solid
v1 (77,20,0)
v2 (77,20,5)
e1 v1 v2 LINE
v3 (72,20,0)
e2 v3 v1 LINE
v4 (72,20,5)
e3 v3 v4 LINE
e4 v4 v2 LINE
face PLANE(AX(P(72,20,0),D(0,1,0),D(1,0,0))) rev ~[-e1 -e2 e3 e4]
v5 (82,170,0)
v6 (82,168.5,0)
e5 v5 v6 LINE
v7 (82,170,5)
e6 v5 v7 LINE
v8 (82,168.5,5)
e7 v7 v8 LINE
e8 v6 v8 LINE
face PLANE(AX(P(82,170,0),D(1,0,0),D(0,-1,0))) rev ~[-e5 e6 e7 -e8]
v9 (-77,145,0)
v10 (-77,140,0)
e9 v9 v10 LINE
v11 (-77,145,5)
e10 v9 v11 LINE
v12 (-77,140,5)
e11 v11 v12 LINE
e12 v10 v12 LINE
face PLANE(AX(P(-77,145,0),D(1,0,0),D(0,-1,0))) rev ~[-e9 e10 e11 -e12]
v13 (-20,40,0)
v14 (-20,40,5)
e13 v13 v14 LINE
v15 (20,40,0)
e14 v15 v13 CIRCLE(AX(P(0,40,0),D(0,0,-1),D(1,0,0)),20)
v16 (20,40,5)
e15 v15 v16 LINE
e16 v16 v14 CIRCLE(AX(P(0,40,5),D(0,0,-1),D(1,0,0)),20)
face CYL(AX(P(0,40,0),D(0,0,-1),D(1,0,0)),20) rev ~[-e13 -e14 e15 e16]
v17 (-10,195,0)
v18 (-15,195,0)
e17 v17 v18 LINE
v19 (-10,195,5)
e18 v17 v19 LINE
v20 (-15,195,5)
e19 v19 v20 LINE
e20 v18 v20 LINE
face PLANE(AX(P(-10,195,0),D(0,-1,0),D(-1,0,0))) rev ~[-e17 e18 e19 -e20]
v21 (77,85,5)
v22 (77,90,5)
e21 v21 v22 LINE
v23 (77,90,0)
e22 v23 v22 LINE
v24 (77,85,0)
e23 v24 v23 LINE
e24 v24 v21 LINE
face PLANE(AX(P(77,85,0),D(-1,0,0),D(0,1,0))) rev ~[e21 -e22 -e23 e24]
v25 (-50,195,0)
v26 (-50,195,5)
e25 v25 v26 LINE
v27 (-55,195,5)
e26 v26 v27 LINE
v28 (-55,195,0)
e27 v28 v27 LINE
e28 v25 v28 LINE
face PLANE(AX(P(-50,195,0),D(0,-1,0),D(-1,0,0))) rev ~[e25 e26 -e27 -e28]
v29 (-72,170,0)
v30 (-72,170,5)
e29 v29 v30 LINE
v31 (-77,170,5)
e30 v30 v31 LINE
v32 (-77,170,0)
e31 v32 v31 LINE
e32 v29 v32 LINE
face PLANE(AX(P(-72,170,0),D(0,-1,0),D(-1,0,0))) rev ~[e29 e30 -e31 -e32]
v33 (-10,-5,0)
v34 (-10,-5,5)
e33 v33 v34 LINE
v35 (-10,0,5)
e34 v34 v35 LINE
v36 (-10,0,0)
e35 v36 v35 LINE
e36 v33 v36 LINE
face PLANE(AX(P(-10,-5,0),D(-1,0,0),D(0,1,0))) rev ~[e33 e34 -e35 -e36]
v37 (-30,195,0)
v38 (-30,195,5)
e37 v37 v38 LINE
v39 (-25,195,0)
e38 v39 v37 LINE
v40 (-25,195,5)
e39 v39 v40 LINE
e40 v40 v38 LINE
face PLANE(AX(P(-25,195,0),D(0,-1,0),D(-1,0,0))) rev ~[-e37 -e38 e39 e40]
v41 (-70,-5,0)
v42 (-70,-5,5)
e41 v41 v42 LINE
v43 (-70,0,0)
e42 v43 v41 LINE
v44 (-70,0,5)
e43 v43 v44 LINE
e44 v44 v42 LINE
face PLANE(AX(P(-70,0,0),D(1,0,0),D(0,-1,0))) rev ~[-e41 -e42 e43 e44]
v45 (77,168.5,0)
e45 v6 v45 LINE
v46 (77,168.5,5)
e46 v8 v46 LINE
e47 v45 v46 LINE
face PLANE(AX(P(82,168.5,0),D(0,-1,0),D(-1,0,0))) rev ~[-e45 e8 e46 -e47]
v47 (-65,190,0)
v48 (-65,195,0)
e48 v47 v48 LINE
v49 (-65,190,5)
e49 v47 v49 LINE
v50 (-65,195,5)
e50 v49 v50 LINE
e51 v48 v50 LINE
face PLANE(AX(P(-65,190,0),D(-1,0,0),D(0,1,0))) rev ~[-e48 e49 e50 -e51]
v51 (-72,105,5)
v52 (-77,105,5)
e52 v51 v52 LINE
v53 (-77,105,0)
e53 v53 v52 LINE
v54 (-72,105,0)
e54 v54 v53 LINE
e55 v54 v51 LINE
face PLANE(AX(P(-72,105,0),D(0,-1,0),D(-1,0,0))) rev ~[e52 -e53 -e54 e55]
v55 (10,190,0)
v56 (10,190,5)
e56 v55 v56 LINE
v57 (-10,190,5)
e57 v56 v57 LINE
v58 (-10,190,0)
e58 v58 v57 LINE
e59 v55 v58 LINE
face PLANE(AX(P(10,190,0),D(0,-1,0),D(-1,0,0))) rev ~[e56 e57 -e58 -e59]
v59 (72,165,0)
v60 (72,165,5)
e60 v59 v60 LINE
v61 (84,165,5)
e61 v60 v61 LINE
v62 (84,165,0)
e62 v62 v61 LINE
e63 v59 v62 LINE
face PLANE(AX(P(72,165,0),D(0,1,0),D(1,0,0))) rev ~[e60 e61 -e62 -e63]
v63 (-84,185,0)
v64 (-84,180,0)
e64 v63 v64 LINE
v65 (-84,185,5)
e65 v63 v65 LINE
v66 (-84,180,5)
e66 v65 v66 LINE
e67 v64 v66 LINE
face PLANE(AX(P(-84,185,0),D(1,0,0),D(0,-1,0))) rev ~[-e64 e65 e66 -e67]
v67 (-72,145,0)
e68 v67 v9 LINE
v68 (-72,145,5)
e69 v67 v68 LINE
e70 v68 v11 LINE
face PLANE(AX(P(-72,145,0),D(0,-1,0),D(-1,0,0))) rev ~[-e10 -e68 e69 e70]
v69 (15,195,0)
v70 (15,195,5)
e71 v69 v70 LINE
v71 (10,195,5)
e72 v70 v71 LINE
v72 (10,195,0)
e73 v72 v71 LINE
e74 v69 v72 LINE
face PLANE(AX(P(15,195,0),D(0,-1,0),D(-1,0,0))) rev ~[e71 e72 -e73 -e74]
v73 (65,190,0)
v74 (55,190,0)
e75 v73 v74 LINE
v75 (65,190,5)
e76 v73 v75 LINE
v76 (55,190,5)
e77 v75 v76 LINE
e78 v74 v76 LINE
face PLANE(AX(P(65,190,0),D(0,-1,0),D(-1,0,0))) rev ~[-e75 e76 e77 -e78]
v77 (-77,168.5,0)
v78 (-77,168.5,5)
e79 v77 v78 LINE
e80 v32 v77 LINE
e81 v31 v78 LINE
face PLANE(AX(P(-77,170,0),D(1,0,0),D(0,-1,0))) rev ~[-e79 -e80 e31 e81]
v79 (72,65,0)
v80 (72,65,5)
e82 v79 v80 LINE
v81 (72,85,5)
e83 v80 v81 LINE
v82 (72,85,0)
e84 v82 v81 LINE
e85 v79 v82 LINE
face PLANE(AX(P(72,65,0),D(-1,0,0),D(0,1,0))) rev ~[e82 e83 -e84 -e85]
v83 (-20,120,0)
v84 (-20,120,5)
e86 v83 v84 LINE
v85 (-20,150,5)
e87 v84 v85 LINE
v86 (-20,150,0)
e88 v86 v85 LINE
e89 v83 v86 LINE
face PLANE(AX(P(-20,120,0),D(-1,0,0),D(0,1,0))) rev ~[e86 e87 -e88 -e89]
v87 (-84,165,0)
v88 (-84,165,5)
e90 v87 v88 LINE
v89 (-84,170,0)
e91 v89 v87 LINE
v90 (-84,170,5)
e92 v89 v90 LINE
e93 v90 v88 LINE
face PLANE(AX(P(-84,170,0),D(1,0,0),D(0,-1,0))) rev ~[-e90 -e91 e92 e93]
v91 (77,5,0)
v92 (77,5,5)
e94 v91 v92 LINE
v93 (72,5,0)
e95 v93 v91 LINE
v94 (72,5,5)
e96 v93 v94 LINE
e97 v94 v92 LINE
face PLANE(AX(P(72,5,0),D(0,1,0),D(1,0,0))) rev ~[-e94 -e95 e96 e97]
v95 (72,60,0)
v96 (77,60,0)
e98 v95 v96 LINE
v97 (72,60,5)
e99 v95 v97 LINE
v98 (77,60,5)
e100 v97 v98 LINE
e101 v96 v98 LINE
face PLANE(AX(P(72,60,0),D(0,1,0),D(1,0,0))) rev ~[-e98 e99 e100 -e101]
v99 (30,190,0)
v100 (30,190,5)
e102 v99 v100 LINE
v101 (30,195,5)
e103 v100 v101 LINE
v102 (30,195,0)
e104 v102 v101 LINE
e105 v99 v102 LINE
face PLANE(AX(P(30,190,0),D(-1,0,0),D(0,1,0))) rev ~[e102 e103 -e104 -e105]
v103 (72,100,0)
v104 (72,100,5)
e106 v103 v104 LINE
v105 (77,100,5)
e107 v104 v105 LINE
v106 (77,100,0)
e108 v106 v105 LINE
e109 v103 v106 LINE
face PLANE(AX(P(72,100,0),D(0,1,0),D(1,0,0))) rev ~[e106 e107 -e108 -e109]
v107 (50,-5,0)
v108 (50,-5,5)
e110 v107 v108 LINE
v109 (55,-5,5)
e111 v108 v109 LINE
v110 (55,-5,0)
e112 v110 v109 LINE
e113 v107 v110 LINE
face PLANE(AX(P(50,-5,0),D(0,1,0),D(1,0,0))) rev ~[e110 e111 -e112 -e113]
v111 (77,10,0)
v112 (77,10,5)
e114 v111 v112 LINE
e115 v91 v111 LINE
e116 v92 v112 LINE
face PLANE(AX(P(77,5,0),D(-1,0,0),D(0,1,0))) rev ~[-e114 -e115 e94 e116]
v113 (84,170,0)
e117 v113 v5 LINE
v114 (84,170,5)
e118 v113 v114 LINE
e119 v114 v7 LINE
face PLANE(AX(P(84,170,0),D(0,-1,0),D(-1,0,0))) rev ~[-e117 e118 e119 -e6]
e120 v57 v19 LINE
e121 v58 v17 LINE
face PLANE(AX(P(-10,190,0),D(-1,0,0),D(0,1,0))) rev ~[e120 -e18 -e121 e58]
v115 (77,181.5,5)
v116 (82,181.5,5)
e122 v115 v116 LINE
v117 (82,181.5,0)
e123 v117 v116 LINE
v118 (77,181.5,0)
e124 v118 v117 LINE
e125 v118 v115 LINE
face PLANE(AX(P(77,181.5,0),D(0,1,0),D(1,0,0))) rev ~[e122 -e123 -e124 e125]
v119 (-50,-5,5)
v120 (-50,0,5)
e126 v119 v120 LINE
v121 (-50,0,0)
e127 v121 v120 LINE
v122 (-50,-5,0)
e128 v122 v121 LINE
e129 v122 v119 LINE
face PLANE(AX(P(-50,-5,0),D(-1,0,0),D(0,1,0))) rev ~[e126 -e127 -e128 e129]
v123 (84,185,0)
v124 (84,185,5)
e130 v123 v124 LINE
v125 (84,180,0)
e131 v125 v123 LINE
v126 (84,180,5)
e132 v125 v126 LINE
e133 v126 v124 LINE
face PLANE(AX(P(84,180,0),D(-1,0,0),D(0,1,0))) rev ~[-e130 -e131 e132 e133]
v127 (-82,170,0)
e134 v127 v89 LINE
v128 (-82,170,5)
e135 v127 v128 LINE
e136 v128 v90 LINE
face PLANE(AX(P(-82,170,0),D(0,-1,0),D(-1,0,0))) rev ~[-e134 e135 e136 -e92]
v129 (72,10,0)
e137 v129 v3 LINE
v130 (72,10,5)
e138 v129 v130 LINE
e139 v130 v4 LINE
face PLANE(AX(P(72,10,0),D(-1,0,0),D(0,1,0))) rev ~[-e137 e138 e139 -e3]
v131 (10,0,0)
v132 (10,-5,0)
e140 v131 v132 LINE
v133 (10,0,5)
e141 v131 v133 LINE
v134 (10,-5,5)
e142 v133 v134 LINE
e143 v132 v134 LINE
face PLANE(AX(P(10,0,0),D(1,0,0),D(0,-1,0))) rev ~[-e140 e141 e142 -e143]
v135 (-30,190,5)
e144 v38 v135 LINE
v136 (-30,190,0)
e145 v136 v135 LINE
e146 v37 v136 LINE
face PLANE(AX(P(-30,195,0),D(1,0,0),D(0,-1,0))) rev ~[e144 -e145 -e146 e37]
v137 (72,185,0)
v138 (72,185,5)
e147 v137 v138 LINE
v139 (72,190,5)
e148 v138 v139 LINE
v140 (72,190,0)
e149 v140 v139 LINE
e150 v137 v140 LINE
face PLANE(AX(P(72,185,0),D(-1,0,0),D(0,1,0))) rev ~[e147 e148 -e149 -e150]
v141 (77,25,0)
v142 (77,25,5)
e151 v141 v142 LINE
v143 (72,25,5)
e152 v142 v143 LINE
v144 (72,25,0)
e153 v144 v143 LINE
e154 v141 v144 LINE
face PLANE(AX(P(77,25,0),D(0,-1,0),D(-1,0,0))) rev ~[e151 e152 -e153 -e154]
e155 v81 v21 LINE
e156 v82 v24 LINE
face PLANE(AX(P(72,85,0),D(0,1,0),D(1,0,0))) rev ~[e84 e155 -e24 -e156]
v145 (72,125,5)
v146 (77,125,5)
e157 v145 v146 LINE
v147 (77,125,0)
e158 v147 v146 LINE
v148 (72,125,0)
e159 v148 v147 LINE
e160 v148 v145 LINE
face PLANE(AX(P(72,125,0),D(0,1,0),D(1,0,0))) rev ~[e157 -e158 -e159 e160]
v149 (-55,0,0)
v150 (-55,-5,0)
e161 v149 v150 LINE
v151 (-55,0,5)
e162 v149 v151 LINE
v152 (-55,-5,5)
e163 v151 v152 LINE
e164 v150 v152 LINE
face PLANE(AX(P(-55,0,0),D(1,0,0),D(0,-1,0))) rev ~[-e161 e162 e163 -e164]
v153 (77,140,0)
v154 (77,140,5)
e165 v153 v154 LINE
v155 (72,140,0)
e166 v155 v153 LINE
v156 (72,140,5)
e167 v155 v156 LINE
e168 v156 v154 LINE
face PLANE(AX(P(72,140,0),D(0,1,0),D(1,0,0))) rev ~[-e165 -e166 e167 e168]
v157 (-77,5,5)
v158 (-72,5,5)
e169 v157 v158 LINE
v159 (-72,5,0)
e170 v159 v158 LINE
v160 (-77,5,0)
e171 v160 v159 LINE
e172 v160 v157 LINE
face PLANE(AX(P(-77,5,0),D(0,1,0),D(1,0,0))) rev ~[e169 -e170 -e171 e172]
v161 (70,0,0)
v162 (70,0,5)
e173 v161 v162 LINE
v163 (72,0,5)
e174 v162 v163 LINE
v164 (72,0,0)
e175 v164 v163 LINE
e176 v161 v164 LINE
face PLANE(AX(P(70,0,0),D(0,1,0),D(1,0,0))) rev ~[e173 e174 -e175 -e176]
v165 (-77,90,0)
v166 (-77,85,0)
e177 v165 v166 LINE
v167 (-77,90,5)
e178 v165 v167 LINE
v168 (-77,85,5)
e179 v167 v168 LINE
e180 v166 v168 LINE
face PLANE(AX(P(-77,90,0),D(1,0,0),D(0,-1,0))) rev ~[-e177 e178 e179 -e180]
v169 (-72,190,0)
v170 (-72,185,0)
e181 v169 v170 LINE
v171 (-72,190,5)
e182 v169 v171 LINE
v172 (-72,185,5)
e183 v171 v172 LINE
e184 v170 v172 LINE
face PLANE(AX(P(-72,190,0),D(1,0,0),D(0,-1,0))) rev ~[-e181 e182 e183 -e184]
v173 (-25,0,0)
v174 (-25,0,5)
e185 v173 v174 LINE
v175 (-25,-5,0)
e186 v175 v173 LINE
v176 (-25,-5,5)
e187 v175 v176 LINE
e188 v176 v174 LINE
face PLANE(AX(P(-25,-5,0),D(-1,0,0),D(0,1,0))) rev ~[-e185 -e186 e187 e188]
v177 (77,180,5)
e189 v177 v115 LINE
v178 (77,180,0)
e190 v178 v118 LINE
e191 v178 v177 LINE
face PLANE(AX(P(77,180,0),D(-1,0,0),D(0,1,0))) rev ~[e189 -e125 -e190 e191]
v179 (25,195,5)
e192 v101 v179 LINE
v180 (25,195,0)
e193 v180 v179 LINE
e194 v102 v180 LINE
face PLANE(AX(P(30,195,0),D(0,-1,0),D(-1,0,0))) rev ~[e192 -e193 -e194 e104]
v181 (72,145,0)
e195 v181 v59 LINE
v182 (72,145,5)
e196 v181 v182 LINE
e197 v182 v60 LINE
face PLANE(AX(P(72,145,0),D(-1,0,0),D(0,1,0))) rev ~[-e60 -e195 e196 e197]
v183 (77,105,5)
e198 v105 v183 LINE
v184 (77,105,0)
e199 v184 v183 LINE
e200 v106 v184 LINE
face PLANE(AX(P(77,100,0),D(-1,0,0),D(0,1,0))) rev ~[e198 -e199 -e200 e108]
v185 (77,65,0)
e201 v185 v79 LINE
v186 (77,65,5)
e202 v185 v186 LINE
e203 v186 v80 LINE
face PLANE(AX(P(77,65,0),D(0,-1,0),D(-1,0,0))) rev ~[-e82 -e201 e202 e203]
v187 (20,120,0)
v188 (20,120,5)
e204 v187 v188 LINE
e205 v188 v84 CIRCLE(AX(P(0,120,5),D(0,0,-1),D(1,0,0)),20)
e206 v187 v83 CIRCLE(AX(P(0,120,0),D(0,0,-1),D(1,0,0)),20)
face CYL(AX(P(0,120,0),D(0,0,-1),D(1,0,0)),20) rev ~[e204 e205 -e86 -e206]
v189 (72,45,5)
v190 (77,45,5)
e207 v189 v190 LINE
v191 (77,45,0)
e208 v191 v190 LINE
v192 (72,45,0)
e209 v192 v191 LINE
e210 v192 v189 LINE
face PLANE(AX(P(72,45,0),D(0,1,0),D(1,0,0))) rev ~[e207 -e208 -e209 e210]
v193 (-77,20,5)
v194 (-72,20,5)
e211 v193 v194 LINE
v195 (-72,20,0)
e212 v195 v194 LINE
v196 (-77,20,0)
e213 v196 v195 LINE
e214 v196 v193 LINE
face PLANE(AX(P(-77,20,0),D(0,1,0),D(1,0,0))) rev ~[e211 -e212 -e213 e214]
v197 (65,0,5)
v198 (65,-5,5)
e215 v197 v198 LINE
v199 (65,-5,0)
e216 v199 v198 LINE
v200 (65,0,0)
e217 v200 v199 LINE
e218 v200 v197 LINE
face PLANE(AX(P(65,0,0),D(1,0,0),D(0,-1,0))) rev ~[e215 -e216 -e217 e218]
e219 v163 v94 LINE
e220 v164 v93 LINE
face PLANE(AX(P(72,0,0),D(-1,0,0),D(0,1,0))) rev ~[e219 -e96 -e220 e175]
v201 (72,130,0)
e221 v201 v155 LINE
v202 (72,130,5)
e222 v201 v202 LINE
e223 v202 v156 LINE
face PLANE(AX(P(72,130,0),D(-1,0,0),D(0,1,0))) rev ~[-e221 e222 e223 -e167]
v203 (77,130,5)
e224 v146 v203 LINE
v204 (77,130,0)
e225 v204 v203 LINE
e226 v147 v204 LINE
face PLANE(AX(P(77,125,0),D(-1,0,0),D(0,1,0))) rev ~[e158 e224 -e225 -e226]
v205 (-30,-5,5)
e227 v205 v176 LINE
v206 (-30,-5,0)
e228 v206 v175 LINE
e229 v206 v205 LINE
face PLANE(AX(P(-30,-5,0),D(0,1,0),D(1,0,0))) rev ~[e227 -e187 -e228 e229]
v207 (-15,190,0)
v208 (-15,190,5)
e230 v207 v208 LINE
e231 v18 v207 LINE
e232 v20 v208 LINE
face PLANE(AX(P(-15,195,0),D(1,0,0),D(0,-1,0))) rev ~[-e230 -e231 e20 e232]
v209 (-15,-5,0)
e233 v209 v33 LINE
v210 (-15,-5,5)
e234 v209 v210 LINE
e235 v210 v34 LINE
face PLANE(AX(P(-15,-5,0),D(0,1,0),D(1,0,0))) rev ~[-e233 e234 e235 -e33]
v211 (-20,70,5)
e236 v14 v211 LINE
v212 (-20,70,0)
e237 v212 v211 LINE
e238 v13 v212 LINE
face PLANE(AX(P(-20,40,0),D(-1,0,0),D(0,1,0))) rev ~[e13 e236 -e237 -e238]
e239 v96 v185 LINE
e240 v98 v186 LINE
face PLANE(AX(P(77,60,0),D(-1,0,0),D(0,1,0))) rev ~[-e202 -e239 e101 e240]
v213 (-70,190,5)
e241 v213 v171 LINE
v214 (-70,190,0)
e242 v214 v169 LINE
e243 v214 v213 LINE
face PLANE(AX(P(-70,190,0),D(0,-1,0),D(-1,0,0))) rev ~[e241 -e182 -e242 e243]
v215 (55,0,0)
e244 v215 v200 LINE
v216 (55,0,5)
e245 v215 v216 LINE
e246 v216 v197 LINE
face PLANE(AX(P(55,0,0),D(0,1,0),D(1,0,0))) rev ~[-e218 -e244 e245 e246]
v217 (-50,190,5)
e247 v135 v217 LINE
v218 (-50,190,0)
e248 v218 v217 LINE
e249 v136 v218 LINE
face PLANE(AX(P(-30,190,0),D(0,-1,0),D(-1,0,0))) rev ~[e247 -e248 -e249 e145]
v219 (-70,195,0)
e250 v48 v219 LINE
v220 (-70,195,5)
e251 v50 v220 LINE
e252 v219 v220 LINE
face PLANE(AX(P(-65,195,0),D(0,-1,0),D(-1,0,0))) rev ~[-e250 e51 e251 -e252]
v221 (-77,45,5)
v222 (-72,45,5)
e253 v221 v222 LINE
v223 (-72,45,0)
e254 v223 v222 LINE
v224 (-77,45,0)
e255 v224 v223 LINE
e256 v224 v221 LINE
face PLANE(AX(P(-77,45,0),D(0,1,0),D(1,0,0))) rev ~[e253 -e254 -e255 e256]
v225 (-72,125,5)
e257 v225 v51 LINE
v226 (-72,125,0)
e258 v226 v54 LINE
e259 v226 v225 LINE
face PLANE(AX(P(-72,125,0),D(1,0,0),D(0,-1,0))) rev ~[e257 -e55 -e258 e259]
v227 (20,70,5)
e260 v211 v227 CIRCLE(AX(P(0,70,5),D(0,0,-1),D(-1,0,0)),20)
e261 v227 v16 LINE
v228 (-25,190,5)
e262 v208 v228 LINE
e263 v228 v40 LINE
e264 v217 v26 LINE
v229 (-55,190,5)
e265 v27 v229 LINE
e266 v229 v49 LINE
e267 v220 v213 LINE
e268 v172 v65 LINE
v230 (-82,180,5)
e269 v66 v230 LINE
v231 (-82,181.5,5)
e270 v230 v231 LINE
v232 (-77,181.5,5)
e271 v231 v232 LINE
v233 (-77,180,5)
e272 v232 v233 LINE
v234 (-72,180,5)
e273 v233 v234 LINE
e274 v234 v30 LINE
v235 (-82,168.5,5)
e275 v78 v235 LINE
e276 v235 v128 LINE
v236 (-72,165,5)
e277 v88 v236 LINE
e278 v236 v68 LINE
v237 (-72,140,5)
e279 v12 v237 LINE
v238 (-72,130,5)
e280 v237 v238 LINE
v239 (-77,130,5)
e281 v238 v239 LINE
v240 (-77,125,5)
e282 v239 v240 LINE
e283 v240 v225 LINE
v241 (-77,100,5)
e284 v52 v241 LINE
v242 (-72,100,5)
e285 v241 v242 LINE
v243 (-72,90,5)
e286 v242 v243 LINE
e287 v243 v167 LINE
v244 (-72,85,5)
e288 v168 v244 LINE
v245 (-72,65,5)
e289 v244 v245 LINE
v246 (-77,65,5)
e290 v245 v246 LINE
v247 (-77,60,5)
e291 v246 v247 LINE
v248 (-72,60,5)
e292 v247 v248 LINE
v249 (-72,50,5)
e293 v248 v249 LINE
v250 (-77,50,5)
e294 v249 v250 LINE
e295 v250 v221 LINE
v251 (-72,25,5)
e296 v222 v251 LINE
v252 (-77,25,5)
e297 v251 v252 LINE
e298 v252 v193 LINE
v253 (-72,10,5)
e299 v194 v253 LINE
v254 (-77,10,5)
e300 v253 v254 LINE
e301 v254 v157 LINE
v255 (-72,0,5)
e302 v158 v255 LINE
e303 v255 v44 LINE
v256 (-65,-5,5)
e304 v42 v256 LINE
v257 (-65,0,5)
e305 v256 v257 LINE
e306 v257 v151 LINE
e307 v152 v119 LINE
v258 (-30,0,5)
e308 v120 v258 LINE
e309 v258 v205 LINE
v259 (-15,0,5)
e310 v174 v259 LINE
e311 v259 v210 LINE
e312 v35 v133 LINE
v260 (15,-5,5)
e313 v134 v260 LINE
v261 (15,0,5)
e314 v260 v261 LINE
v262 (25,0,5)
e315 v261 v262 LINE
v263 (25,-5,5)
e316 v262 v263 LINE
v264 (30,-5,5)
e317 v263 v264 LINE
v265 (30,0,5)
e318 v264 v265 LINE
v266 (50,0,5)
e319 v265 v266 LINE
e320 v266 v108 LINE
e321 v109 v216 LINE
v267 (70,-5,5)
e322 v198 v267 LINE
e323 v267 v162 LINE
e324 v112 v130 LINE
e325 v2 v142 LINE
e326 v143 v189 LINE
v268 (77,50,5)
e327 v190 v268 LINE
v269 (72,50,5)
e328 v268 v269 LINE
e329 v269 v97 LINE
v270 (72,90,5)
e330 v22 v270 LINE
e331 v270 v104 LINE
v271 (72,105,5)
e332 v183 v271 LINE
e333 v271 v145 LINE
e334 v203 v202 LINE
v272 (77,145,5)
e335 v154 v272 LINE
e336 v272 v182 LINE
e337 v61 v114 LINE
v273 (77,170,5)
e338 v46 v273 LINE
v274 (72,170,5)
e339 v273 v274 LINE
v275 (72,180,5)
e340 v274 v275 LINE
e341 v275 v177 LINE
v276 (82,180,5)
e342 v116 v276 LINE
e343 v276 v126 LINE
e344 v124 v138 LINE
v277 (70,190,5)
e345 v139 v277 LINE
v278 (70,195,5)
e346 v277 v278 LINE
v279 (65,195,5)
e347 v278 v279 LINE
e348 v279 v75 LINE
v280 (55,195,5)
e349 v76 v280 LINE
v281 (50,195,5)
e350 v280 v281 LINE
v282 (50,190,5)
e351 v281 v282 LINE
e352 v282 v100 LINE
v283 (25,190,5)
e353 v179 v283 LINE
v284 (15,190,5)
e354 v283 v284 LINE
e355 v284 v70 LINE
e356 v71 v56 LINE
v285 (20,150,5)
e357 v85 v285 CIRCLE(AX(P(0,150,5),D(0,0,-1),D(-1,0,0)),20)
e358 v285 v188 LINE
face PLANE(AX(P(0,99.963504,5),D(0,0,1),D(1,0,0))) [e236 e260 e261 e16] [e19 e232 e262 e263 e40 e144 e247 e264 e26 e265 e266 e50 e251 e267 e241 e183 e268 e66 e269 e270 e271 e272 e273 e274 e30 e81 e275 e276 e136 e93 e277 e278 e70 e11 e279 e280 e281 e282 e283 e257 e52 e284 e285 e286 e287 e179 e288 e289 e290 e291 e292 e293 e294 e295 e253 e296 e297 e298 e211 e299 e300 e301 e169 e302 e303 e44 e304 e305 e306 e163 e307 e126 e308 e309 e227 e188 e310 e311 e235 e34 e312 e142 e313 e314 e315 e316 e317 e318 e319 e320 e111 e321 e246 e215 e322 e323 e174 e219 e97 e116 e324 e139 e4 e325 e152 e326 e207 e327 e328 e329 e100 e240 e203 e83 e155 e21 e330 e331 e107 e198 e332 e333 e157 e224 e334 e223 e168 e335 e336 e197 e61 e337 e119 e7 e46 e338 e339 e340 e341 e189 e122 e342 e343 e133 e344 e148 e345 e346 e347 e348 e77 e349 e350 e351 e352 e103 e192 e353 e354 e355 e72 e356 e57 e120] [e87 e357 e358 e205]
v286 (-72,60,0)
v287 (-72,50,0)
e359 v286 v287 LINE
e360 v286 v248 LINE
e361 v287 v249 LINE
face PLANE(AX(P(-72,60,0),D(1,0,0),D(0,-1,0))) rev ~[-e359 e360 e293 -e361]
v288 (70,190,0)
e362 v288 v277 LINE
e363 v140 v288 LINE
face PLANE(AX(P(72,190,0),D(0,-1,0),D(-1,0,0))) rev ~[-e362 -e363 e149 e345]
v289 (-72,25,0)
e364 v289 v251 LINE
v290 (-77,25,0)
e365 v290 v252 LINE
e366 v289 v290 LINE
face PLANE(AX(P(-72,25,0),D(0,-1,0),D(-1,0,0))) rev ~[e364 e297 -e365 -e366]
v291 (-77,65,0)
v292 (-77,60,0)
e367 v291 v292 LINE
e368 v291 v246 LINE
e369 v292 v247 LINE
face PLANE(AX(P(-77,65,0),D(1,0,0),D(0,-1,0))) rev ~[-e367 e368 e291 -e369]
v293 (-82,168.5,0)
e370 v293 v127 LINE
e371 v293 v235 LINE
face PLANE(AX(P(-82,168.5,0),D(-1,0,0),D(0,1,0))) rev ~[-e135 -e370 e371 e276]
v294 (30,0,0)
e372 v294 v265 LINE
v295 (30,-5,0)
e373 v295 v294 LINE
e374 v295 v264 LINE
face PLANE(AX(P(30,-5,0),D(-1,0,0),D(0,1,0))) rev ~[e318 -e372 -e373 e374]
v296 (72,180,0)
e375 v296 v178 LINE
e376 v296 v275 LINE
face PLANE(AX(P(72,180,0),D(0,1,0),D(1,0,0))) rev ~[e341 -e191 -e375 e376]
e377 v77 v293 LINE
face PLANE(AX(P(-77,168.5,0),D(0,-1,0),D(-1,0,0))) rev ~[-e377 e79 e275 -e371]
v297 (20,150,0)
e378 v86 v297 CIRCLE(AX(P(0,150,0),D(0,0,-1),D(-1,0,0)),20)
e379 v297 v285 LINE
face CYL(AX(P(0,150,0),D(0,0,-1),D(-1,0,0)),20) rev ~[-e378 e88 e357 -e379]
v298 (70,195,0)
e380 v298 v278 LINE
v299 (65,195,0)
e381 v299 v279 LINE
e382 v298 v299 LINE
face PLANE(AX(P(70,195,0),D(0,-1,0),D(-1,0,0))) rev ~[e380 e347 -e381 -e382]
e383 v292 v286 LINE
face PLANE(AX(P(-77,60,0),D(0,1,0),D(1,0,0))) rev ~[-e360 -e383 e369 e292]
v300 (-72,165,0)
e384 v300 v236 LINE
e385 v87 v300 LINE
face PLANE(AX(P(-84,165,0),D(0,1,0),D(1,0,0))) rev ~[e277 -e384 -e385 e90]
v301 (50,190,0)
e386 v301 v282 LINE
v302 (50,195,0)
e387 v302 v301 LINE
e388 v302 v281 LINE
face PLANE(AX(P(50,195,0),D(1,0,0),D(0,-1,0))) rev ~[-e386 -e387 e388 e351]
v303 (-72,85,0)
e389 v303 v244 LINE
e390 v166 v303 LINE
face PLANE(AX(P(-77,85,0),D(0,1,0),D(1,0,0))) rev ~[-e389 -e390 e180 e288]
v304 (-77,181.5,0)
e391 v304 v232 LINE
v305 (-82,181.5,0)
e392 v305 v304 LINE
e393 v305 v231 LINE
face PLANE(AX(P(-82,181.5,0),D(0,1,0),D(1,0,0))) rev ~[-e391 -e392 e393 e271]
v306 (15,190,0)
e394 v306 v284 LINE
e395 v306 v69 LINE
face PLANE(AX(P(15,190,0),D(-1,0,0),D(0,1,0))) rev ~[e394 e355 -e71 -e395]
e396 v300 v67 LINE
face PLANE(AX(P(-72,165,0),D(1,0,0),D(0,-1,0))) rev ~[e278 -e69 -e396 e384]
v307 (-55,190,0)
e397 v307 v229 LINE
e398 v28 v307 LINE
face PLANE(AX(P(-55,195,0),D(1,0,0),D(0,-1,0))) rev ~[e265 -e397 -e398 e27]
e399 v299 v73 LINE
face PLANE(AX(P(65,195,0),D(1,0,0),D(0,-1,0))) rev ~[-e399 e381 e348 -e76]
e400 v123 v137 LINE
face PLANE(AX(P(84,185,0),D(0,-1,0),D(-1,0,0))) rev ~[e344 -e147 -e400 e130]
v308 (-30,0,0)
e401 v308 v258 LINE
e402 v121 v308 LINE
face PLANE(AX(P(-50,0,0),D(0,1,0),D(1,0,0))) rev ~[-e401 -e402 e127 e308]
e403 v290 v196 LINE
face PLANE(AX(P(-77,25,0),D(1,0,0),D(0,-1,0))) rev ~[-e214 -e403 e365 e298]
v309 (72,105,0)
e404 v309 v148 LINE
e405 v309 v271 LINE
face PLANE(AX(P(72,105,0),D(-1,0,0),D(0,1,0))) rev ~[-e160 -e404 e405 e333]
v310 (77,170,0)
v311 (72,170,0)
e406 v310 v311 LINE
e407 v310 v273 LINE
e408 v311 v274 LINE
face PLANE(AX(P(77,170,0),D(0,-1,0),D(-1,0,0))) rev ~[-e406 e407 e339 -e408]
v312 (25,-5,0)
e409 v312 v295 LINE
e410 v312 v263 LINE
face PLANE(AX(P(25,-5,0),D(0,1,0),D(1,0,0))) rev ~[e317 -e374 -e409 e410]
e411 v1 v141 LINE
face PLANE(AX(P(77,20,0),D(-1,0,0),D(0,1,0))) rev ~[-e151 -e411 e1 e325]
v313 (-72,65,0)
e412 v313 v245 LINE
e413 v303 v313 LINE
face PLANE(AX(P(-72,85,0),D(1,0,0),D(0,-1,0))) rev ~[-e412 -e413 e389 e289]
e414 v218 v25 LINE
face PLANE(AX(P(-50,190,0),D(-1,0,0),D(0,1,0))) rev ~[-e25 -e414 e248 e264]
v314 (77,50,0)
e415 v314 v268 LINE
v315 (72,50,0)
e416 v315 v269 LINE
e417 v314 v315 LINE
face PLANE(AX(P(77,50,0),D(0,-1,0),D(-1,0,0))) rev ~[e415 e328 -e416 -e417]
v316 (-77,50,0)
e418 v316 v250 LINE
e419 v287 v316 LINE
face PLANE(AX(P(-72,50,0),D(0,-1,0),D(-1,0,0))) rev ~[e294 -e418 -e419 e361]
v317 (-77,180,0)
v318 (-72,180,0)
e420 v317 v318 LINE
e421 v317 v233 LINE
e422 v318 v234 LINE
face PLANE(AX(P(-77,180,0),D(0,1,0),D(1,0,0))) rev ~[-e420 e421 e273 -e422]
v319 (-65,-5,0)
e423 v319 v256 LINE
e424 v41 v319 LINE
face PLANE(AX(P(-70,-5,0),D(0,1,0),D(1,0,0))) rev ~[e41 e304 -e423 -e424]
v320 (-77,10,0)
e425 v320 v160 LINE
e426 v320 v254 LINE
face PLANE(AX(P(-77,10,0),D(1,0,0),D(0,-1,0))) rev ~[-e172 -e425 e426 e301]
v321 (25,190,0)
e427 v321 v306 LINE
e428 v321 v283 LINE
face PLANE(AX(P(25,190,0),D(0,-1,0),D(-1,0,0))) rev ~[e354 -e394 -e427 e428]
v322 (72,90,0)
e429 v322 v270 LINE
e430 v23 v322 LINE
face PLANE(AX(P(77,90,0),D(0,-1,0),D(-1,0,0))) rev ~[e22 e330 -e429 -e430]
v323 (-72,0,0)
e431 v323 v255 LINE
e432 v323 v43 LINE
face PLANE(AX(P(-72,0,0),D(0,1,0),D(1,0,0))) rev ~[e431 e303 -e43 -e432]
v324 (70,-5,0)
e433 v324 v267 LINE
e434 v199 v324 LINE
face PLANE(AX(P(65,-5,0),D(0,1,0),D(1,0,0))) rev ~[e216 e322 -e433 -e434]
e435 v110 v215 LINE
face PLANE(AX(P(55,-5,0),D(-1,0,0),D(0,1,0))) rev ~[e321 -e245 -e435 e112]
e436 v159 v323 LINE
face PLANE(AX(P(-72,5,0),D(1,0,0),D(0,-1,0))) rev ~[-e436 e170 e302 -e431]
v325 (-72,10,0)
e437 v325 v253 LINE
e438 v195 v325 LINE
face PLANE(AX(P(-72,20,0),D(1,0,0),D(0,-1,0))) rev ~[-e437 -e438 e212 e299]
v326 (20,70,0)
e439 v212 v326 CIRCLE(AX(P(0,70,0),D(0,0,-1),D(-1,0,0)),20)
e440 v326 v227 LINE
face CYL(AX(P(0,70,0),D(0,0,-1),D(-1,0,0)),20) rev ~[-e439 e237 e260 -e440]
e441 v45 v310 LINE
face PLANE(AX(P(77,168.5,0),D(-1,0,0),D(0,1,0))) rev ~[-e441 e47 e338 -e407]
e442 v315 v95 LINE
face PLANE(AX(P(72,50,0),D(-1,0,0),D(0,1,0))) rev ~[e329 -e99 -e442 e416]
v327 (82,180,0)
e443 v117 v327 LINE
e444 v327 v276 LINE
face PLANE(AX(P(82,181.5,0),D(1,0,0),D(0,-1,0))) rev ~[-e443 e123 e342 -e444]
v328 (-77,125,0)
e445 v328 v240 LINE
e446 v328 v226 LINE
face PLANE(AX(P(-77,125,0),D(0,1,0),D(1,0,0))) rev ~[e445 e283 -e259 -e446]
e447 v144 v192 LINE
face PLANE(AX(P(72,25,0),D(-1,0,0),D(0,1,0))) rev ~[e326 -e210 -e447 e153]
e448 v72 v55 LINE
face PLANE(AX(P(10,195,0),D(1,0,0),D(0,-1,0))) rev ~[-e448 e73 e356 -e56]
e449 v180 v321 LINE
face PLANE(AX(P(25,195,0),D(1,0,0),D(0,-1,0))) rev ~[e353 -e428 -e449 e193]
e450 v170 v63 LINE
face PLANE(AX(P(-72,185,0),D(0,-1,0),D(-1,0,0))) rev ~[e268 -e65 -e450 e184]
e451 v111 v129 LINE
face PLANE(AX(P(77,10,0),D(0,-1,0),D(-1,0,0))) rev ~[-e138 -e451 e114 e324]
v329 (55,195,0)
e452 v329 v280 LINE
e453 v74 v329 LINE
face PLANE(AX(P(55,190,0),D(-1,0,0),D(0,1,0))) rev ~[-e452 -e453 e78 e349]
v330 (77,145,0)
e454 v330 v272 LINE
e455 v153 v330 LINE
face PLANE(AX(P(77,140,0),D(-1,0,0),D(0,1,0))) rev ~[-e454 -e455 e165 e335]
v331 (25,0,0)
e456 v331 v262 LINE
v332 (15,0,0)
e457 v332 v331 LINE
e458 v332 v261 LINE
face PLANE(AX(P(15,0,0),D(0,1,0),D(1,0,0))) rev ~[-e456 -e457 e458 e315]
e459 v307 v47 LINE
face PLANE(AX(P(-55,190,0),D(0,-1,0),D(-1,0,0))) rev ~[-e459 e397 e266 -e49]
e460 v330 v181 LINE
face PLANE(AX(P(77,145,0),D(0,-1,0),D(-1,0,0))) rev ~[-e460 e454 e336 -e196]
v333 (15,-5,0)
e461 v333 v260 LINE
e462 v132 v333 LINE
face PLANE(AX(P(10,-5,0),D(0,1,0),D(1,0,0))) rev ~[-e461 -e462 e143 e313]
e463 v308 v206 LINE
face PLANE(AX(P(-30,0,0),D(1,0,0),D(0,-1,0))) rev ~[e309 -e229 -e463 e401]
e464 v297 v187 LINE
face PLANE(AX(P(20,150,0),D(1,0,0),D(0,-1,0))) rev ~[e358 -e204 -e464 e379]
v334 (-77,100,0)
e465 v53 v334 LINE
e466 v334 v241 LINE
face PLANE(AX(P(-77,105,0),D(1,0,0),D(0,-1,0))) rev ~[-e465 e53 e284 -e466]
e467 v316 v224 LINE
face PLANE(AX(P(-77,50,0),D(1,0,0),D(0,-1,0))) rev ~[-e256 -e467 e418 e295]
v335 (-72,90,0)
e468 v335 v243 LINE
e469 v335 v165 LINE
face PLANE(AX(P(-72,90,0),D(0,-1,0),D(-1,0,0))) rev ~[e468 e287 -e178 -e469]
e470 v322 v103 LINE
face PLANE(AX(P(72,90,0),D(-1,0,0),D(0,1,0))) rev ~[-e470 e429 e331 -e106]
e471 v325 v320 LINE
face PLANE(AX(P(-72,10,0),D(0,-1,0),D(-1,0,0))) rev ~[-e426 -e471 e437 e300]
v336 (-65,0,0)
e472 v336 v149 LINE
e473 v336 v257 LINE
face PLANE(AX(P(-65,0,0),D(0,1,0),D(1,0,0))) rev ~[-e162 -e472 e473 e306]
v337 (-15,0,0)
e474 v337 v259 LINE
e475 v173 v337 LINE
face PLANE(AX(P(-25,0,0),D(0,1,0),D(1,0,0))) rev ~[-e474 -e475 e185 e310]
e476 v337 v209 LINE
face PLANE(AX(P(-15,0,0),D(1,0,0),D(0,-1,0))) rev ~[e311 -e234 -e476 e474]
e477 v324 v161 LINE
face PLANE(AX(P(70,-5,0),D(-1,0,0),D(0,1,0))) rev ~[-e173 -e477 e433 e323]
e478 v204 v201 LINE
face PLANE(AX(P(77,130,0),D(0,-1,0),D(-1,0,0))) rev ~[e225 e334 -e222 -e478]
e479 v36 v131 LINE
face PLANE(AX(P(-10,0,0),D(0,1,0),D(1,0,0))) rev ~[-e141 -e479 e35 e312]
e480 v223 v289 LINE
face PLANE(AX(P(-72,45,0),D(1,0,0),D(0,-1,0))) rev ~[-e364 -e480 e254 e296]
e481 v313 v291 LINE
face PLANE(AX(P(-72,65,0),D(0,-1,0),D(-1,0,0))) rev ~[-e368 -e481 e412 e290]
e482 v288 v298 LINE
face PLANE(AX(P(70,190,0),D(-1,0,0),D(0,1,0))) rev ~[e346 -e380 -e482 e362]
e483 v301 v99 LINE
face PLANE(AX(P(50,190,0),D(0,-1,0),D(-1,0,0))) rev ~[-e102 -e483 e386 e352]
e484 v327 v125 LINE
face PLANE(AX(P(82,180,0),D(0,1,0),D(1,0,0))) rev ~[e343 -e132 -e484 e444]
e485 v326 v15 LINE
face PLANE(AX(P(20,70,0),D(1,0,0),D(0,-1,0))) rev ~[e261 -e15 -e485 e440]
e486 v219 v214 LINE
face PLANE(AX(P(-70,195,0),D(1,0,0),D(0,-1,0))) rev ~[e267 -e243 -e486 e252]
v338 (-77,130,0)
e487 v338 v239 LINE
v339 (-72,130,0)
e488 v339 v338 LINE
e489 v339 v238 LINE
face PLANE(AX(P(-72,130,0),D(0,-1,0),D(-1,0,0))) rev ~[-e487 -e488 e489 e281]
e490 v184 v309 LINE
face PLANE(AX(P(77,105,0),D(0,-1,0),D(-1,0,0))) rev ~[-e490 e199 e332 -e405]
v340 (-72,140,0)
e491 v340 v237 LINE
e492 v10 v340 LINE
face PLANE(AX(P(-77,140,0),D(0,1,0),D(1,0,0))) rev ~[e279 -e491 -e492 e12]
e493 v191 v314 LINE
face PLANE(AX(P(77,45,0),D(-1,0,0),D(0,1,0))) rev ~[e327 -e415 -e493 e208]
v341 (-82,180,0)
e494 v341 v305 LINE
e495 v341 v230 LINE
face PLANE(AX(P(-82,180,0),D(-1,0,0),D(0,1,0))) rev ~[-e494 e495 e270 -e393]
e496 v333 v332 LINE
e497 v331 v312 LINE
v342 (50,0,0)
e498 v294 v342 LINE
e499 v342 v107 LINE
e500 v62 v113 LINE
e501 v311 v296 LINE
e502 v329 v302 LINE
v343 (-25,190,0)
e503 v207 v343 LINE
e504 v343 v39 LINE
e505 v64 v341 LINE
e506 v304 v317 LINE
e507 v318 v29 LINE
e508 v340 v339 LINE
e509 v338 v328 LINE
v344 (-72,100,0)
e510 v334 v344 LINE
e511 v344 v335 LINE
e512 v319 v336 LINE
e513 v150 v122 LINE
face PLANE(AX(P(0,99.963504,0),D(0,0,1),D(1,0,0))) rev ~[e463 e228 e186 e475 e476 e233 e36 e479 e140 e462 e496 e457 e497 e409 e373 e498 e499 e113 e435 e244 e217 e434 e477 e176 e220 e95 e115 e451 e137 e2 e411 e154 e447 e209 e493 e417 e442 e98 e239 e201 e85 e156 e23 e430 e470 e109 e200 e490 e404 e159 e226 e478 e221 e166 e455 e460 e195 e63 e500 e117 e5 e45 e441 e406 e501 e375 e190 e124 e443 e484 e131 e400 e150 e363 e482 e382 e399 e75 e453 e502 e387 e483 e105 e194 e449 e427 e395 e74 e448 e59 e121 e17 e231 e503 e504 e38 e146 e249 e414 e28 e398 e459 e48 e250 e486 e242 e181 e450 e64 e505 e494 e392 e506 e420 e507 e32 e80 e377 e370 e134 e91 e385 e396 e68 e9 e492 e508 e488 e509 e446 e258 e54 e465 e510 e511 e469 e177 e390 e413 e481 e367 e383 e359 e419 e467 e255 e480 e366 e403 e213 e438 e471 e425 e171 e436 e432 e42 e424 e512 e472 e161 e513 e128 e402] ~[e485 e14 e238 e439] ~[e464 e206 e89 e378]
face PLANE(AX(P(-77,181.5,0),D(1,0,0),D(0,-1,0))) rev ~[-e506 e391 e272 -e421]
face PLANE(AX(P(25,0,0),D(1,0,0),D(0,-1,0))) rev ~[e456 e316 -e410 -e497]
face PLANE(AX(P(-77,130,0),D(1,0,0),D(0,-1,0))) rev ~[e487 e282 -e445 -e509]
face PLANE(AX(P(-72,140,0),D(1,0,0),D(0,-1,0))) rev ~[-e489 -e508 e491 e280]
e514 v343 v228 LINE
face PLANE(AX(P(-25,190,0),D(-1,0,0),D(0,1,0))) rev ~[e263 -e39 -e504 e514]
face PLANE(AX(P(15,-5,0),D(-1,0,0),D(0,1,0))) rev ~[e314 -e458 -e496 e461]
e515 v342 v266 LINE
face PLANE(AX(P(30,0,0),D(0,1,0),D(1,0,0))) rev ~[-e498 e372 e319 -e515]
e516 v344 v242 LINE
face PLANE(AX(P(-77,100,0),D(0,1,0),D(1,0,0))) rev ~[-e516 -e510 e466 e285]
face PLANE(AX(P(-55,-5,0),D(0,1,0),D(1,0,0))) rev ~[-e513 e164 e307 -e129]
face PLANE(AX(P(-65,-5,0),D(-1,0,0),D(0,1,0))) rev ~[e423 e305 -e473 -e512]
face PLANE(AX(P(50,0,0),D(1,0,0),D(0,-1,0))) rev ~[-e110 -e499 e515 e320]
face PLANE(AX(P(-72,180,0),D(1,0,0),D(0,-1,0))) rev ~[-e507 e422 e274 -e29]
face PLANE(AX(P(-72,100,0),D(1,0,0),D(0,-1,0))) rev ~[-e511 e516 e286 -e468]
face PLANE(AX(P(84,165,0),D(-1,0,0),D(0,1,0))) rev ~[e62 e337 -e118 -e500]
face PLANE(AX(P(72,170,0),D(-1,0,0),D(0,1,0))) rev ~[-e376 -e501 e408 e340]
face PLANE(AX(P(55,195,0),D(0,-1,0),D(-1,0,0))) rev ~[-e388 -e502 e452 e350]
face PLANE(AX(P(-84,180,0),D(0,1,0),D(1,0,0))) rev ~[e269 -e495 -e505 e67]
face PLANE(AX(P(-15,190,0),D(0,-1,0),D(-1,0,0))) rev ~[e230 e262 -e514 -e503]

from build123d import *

# Parameters (mm, degrees)
BOSS_EXTRU_1_DEPTH = 5


with BuildPart() as part:
    # Esquisse1 → Boss.-Extru.1 (new body)
    with BuildSketch(Plane.XY):
        Polygon((-70, 190), (-72, 190), (-72, 185), (-84, 185), (-84, 180), (-82, 180), (-82, 181.5), (-77, 181.5), (-77, 180), (-72, 180), (-72, 170), (-77, 170), (-77, 168.5), (-82, 168.5), (-82, 170), (-84, 170), (-84, 165), (-72, 165), (-72, 145), (-77, 145), (-77, 140), (-72, 140), (-72, 130), (-77, 130), (-77, 125), (-72, 125), (-72, 105), (-77, 105), (-77, 100), (-72, 100), (-72, 90), (-77, 90), (-77, 85), (-72, 85), (-72, 65), (-77, 65), (-77, 60), (-72, 60), (-72, 50), (-77, 50), (-77, 45), (-72, 45), (-72, 25), (-77, 25), (-77, 20), (-72, 20), (-72, 10), (-77, 10), (-77, 5), (-72, 5), (-72, 0), (-70, 0), (-70, -5), (-65, -5), (-65, 0), (-55, 0), (-55, -5), (-50, -5), (-50, 0), (-30, 0), (-30, -5), (-25, -5), (-25, 0), (-15, 0), (-15, -5), (-10, -5), (-10, 0), (10, 0), (10, -5), (15, -5), (15, 0), (25, 0), (25, -5), (30, -5), (30, 0), (50, 0), (50, -5), (55, -5), (55, 0), (65, 0), (65, -5), (70, -5), (70, 0), (72, 0), (72, 5), (77, 5), (77, 10), (72, 10), (72, 20), (77, 20), (77, 25), (72, 25), (72, 45), (77, 45), (77, 50), (72, 50), (72, 60), (77, 60), (77, 65), (72, 65), (72, 85), (77, 85), (77, 90), (72, 90), (72, 100), (77, 100), (77, 105), (72, 105), (72, 125), (77, 125), (77, 130), (72, 130), (72, 140), (77, 140), (77, 145), (72, 145), (72, 165), (84, 165), (84, 170), (82, 170), (82, 168.5), (77, 168.5), (77, 170), (72, 170), (72, 180), (77, 180), (77, 181.5), (82, 181.5), (82, 180), (84, 180), (84, 185), (72, 185), (72, 190), (70, 190), (70, 195), (65, 195), (65, 190), (55, 190), (55, 195), (50, 195), (50, 190), (30, 190), (30, 195), (25, 195), (25, 190), (15, 190), (15, 195), (10, 195), (10, 190), (-10, 190), (-10, 195), (-15, 195), (-15, 190), (-25, 190), (-25, 195), (-30, 195), (-30, 190), (-50, 190), (-50, 195), (-55, 195), (-55, 190), (-65, 190), (-65, 195), (-70, 195), align=None)
        with BuildLine():
            ThreePointArc((20, 40), (0, 20), (-20, 40))
            Line((-20, 40), (-20, 70))
            ThreePointArc((-20, 70), (0, 90), (20, 70))
            Line((20, 70), (20, 40))
        make_face(mode=Mode.SUBTRACT)
        with BuildLine():
            ThreePointArc((20, 120), (0, 100), (-20, 120))
            Line((-20, 120), (-20, 150))
            ThreePointArc((-20, 150), (0, 170), (20, 150))
            Line((20, 150), (20, 120))
        make_face(mode=Mode.SUBTRACT)
    extrude(amount=BOSS_EXTRU_1_DEPTH)


solid = part.part
